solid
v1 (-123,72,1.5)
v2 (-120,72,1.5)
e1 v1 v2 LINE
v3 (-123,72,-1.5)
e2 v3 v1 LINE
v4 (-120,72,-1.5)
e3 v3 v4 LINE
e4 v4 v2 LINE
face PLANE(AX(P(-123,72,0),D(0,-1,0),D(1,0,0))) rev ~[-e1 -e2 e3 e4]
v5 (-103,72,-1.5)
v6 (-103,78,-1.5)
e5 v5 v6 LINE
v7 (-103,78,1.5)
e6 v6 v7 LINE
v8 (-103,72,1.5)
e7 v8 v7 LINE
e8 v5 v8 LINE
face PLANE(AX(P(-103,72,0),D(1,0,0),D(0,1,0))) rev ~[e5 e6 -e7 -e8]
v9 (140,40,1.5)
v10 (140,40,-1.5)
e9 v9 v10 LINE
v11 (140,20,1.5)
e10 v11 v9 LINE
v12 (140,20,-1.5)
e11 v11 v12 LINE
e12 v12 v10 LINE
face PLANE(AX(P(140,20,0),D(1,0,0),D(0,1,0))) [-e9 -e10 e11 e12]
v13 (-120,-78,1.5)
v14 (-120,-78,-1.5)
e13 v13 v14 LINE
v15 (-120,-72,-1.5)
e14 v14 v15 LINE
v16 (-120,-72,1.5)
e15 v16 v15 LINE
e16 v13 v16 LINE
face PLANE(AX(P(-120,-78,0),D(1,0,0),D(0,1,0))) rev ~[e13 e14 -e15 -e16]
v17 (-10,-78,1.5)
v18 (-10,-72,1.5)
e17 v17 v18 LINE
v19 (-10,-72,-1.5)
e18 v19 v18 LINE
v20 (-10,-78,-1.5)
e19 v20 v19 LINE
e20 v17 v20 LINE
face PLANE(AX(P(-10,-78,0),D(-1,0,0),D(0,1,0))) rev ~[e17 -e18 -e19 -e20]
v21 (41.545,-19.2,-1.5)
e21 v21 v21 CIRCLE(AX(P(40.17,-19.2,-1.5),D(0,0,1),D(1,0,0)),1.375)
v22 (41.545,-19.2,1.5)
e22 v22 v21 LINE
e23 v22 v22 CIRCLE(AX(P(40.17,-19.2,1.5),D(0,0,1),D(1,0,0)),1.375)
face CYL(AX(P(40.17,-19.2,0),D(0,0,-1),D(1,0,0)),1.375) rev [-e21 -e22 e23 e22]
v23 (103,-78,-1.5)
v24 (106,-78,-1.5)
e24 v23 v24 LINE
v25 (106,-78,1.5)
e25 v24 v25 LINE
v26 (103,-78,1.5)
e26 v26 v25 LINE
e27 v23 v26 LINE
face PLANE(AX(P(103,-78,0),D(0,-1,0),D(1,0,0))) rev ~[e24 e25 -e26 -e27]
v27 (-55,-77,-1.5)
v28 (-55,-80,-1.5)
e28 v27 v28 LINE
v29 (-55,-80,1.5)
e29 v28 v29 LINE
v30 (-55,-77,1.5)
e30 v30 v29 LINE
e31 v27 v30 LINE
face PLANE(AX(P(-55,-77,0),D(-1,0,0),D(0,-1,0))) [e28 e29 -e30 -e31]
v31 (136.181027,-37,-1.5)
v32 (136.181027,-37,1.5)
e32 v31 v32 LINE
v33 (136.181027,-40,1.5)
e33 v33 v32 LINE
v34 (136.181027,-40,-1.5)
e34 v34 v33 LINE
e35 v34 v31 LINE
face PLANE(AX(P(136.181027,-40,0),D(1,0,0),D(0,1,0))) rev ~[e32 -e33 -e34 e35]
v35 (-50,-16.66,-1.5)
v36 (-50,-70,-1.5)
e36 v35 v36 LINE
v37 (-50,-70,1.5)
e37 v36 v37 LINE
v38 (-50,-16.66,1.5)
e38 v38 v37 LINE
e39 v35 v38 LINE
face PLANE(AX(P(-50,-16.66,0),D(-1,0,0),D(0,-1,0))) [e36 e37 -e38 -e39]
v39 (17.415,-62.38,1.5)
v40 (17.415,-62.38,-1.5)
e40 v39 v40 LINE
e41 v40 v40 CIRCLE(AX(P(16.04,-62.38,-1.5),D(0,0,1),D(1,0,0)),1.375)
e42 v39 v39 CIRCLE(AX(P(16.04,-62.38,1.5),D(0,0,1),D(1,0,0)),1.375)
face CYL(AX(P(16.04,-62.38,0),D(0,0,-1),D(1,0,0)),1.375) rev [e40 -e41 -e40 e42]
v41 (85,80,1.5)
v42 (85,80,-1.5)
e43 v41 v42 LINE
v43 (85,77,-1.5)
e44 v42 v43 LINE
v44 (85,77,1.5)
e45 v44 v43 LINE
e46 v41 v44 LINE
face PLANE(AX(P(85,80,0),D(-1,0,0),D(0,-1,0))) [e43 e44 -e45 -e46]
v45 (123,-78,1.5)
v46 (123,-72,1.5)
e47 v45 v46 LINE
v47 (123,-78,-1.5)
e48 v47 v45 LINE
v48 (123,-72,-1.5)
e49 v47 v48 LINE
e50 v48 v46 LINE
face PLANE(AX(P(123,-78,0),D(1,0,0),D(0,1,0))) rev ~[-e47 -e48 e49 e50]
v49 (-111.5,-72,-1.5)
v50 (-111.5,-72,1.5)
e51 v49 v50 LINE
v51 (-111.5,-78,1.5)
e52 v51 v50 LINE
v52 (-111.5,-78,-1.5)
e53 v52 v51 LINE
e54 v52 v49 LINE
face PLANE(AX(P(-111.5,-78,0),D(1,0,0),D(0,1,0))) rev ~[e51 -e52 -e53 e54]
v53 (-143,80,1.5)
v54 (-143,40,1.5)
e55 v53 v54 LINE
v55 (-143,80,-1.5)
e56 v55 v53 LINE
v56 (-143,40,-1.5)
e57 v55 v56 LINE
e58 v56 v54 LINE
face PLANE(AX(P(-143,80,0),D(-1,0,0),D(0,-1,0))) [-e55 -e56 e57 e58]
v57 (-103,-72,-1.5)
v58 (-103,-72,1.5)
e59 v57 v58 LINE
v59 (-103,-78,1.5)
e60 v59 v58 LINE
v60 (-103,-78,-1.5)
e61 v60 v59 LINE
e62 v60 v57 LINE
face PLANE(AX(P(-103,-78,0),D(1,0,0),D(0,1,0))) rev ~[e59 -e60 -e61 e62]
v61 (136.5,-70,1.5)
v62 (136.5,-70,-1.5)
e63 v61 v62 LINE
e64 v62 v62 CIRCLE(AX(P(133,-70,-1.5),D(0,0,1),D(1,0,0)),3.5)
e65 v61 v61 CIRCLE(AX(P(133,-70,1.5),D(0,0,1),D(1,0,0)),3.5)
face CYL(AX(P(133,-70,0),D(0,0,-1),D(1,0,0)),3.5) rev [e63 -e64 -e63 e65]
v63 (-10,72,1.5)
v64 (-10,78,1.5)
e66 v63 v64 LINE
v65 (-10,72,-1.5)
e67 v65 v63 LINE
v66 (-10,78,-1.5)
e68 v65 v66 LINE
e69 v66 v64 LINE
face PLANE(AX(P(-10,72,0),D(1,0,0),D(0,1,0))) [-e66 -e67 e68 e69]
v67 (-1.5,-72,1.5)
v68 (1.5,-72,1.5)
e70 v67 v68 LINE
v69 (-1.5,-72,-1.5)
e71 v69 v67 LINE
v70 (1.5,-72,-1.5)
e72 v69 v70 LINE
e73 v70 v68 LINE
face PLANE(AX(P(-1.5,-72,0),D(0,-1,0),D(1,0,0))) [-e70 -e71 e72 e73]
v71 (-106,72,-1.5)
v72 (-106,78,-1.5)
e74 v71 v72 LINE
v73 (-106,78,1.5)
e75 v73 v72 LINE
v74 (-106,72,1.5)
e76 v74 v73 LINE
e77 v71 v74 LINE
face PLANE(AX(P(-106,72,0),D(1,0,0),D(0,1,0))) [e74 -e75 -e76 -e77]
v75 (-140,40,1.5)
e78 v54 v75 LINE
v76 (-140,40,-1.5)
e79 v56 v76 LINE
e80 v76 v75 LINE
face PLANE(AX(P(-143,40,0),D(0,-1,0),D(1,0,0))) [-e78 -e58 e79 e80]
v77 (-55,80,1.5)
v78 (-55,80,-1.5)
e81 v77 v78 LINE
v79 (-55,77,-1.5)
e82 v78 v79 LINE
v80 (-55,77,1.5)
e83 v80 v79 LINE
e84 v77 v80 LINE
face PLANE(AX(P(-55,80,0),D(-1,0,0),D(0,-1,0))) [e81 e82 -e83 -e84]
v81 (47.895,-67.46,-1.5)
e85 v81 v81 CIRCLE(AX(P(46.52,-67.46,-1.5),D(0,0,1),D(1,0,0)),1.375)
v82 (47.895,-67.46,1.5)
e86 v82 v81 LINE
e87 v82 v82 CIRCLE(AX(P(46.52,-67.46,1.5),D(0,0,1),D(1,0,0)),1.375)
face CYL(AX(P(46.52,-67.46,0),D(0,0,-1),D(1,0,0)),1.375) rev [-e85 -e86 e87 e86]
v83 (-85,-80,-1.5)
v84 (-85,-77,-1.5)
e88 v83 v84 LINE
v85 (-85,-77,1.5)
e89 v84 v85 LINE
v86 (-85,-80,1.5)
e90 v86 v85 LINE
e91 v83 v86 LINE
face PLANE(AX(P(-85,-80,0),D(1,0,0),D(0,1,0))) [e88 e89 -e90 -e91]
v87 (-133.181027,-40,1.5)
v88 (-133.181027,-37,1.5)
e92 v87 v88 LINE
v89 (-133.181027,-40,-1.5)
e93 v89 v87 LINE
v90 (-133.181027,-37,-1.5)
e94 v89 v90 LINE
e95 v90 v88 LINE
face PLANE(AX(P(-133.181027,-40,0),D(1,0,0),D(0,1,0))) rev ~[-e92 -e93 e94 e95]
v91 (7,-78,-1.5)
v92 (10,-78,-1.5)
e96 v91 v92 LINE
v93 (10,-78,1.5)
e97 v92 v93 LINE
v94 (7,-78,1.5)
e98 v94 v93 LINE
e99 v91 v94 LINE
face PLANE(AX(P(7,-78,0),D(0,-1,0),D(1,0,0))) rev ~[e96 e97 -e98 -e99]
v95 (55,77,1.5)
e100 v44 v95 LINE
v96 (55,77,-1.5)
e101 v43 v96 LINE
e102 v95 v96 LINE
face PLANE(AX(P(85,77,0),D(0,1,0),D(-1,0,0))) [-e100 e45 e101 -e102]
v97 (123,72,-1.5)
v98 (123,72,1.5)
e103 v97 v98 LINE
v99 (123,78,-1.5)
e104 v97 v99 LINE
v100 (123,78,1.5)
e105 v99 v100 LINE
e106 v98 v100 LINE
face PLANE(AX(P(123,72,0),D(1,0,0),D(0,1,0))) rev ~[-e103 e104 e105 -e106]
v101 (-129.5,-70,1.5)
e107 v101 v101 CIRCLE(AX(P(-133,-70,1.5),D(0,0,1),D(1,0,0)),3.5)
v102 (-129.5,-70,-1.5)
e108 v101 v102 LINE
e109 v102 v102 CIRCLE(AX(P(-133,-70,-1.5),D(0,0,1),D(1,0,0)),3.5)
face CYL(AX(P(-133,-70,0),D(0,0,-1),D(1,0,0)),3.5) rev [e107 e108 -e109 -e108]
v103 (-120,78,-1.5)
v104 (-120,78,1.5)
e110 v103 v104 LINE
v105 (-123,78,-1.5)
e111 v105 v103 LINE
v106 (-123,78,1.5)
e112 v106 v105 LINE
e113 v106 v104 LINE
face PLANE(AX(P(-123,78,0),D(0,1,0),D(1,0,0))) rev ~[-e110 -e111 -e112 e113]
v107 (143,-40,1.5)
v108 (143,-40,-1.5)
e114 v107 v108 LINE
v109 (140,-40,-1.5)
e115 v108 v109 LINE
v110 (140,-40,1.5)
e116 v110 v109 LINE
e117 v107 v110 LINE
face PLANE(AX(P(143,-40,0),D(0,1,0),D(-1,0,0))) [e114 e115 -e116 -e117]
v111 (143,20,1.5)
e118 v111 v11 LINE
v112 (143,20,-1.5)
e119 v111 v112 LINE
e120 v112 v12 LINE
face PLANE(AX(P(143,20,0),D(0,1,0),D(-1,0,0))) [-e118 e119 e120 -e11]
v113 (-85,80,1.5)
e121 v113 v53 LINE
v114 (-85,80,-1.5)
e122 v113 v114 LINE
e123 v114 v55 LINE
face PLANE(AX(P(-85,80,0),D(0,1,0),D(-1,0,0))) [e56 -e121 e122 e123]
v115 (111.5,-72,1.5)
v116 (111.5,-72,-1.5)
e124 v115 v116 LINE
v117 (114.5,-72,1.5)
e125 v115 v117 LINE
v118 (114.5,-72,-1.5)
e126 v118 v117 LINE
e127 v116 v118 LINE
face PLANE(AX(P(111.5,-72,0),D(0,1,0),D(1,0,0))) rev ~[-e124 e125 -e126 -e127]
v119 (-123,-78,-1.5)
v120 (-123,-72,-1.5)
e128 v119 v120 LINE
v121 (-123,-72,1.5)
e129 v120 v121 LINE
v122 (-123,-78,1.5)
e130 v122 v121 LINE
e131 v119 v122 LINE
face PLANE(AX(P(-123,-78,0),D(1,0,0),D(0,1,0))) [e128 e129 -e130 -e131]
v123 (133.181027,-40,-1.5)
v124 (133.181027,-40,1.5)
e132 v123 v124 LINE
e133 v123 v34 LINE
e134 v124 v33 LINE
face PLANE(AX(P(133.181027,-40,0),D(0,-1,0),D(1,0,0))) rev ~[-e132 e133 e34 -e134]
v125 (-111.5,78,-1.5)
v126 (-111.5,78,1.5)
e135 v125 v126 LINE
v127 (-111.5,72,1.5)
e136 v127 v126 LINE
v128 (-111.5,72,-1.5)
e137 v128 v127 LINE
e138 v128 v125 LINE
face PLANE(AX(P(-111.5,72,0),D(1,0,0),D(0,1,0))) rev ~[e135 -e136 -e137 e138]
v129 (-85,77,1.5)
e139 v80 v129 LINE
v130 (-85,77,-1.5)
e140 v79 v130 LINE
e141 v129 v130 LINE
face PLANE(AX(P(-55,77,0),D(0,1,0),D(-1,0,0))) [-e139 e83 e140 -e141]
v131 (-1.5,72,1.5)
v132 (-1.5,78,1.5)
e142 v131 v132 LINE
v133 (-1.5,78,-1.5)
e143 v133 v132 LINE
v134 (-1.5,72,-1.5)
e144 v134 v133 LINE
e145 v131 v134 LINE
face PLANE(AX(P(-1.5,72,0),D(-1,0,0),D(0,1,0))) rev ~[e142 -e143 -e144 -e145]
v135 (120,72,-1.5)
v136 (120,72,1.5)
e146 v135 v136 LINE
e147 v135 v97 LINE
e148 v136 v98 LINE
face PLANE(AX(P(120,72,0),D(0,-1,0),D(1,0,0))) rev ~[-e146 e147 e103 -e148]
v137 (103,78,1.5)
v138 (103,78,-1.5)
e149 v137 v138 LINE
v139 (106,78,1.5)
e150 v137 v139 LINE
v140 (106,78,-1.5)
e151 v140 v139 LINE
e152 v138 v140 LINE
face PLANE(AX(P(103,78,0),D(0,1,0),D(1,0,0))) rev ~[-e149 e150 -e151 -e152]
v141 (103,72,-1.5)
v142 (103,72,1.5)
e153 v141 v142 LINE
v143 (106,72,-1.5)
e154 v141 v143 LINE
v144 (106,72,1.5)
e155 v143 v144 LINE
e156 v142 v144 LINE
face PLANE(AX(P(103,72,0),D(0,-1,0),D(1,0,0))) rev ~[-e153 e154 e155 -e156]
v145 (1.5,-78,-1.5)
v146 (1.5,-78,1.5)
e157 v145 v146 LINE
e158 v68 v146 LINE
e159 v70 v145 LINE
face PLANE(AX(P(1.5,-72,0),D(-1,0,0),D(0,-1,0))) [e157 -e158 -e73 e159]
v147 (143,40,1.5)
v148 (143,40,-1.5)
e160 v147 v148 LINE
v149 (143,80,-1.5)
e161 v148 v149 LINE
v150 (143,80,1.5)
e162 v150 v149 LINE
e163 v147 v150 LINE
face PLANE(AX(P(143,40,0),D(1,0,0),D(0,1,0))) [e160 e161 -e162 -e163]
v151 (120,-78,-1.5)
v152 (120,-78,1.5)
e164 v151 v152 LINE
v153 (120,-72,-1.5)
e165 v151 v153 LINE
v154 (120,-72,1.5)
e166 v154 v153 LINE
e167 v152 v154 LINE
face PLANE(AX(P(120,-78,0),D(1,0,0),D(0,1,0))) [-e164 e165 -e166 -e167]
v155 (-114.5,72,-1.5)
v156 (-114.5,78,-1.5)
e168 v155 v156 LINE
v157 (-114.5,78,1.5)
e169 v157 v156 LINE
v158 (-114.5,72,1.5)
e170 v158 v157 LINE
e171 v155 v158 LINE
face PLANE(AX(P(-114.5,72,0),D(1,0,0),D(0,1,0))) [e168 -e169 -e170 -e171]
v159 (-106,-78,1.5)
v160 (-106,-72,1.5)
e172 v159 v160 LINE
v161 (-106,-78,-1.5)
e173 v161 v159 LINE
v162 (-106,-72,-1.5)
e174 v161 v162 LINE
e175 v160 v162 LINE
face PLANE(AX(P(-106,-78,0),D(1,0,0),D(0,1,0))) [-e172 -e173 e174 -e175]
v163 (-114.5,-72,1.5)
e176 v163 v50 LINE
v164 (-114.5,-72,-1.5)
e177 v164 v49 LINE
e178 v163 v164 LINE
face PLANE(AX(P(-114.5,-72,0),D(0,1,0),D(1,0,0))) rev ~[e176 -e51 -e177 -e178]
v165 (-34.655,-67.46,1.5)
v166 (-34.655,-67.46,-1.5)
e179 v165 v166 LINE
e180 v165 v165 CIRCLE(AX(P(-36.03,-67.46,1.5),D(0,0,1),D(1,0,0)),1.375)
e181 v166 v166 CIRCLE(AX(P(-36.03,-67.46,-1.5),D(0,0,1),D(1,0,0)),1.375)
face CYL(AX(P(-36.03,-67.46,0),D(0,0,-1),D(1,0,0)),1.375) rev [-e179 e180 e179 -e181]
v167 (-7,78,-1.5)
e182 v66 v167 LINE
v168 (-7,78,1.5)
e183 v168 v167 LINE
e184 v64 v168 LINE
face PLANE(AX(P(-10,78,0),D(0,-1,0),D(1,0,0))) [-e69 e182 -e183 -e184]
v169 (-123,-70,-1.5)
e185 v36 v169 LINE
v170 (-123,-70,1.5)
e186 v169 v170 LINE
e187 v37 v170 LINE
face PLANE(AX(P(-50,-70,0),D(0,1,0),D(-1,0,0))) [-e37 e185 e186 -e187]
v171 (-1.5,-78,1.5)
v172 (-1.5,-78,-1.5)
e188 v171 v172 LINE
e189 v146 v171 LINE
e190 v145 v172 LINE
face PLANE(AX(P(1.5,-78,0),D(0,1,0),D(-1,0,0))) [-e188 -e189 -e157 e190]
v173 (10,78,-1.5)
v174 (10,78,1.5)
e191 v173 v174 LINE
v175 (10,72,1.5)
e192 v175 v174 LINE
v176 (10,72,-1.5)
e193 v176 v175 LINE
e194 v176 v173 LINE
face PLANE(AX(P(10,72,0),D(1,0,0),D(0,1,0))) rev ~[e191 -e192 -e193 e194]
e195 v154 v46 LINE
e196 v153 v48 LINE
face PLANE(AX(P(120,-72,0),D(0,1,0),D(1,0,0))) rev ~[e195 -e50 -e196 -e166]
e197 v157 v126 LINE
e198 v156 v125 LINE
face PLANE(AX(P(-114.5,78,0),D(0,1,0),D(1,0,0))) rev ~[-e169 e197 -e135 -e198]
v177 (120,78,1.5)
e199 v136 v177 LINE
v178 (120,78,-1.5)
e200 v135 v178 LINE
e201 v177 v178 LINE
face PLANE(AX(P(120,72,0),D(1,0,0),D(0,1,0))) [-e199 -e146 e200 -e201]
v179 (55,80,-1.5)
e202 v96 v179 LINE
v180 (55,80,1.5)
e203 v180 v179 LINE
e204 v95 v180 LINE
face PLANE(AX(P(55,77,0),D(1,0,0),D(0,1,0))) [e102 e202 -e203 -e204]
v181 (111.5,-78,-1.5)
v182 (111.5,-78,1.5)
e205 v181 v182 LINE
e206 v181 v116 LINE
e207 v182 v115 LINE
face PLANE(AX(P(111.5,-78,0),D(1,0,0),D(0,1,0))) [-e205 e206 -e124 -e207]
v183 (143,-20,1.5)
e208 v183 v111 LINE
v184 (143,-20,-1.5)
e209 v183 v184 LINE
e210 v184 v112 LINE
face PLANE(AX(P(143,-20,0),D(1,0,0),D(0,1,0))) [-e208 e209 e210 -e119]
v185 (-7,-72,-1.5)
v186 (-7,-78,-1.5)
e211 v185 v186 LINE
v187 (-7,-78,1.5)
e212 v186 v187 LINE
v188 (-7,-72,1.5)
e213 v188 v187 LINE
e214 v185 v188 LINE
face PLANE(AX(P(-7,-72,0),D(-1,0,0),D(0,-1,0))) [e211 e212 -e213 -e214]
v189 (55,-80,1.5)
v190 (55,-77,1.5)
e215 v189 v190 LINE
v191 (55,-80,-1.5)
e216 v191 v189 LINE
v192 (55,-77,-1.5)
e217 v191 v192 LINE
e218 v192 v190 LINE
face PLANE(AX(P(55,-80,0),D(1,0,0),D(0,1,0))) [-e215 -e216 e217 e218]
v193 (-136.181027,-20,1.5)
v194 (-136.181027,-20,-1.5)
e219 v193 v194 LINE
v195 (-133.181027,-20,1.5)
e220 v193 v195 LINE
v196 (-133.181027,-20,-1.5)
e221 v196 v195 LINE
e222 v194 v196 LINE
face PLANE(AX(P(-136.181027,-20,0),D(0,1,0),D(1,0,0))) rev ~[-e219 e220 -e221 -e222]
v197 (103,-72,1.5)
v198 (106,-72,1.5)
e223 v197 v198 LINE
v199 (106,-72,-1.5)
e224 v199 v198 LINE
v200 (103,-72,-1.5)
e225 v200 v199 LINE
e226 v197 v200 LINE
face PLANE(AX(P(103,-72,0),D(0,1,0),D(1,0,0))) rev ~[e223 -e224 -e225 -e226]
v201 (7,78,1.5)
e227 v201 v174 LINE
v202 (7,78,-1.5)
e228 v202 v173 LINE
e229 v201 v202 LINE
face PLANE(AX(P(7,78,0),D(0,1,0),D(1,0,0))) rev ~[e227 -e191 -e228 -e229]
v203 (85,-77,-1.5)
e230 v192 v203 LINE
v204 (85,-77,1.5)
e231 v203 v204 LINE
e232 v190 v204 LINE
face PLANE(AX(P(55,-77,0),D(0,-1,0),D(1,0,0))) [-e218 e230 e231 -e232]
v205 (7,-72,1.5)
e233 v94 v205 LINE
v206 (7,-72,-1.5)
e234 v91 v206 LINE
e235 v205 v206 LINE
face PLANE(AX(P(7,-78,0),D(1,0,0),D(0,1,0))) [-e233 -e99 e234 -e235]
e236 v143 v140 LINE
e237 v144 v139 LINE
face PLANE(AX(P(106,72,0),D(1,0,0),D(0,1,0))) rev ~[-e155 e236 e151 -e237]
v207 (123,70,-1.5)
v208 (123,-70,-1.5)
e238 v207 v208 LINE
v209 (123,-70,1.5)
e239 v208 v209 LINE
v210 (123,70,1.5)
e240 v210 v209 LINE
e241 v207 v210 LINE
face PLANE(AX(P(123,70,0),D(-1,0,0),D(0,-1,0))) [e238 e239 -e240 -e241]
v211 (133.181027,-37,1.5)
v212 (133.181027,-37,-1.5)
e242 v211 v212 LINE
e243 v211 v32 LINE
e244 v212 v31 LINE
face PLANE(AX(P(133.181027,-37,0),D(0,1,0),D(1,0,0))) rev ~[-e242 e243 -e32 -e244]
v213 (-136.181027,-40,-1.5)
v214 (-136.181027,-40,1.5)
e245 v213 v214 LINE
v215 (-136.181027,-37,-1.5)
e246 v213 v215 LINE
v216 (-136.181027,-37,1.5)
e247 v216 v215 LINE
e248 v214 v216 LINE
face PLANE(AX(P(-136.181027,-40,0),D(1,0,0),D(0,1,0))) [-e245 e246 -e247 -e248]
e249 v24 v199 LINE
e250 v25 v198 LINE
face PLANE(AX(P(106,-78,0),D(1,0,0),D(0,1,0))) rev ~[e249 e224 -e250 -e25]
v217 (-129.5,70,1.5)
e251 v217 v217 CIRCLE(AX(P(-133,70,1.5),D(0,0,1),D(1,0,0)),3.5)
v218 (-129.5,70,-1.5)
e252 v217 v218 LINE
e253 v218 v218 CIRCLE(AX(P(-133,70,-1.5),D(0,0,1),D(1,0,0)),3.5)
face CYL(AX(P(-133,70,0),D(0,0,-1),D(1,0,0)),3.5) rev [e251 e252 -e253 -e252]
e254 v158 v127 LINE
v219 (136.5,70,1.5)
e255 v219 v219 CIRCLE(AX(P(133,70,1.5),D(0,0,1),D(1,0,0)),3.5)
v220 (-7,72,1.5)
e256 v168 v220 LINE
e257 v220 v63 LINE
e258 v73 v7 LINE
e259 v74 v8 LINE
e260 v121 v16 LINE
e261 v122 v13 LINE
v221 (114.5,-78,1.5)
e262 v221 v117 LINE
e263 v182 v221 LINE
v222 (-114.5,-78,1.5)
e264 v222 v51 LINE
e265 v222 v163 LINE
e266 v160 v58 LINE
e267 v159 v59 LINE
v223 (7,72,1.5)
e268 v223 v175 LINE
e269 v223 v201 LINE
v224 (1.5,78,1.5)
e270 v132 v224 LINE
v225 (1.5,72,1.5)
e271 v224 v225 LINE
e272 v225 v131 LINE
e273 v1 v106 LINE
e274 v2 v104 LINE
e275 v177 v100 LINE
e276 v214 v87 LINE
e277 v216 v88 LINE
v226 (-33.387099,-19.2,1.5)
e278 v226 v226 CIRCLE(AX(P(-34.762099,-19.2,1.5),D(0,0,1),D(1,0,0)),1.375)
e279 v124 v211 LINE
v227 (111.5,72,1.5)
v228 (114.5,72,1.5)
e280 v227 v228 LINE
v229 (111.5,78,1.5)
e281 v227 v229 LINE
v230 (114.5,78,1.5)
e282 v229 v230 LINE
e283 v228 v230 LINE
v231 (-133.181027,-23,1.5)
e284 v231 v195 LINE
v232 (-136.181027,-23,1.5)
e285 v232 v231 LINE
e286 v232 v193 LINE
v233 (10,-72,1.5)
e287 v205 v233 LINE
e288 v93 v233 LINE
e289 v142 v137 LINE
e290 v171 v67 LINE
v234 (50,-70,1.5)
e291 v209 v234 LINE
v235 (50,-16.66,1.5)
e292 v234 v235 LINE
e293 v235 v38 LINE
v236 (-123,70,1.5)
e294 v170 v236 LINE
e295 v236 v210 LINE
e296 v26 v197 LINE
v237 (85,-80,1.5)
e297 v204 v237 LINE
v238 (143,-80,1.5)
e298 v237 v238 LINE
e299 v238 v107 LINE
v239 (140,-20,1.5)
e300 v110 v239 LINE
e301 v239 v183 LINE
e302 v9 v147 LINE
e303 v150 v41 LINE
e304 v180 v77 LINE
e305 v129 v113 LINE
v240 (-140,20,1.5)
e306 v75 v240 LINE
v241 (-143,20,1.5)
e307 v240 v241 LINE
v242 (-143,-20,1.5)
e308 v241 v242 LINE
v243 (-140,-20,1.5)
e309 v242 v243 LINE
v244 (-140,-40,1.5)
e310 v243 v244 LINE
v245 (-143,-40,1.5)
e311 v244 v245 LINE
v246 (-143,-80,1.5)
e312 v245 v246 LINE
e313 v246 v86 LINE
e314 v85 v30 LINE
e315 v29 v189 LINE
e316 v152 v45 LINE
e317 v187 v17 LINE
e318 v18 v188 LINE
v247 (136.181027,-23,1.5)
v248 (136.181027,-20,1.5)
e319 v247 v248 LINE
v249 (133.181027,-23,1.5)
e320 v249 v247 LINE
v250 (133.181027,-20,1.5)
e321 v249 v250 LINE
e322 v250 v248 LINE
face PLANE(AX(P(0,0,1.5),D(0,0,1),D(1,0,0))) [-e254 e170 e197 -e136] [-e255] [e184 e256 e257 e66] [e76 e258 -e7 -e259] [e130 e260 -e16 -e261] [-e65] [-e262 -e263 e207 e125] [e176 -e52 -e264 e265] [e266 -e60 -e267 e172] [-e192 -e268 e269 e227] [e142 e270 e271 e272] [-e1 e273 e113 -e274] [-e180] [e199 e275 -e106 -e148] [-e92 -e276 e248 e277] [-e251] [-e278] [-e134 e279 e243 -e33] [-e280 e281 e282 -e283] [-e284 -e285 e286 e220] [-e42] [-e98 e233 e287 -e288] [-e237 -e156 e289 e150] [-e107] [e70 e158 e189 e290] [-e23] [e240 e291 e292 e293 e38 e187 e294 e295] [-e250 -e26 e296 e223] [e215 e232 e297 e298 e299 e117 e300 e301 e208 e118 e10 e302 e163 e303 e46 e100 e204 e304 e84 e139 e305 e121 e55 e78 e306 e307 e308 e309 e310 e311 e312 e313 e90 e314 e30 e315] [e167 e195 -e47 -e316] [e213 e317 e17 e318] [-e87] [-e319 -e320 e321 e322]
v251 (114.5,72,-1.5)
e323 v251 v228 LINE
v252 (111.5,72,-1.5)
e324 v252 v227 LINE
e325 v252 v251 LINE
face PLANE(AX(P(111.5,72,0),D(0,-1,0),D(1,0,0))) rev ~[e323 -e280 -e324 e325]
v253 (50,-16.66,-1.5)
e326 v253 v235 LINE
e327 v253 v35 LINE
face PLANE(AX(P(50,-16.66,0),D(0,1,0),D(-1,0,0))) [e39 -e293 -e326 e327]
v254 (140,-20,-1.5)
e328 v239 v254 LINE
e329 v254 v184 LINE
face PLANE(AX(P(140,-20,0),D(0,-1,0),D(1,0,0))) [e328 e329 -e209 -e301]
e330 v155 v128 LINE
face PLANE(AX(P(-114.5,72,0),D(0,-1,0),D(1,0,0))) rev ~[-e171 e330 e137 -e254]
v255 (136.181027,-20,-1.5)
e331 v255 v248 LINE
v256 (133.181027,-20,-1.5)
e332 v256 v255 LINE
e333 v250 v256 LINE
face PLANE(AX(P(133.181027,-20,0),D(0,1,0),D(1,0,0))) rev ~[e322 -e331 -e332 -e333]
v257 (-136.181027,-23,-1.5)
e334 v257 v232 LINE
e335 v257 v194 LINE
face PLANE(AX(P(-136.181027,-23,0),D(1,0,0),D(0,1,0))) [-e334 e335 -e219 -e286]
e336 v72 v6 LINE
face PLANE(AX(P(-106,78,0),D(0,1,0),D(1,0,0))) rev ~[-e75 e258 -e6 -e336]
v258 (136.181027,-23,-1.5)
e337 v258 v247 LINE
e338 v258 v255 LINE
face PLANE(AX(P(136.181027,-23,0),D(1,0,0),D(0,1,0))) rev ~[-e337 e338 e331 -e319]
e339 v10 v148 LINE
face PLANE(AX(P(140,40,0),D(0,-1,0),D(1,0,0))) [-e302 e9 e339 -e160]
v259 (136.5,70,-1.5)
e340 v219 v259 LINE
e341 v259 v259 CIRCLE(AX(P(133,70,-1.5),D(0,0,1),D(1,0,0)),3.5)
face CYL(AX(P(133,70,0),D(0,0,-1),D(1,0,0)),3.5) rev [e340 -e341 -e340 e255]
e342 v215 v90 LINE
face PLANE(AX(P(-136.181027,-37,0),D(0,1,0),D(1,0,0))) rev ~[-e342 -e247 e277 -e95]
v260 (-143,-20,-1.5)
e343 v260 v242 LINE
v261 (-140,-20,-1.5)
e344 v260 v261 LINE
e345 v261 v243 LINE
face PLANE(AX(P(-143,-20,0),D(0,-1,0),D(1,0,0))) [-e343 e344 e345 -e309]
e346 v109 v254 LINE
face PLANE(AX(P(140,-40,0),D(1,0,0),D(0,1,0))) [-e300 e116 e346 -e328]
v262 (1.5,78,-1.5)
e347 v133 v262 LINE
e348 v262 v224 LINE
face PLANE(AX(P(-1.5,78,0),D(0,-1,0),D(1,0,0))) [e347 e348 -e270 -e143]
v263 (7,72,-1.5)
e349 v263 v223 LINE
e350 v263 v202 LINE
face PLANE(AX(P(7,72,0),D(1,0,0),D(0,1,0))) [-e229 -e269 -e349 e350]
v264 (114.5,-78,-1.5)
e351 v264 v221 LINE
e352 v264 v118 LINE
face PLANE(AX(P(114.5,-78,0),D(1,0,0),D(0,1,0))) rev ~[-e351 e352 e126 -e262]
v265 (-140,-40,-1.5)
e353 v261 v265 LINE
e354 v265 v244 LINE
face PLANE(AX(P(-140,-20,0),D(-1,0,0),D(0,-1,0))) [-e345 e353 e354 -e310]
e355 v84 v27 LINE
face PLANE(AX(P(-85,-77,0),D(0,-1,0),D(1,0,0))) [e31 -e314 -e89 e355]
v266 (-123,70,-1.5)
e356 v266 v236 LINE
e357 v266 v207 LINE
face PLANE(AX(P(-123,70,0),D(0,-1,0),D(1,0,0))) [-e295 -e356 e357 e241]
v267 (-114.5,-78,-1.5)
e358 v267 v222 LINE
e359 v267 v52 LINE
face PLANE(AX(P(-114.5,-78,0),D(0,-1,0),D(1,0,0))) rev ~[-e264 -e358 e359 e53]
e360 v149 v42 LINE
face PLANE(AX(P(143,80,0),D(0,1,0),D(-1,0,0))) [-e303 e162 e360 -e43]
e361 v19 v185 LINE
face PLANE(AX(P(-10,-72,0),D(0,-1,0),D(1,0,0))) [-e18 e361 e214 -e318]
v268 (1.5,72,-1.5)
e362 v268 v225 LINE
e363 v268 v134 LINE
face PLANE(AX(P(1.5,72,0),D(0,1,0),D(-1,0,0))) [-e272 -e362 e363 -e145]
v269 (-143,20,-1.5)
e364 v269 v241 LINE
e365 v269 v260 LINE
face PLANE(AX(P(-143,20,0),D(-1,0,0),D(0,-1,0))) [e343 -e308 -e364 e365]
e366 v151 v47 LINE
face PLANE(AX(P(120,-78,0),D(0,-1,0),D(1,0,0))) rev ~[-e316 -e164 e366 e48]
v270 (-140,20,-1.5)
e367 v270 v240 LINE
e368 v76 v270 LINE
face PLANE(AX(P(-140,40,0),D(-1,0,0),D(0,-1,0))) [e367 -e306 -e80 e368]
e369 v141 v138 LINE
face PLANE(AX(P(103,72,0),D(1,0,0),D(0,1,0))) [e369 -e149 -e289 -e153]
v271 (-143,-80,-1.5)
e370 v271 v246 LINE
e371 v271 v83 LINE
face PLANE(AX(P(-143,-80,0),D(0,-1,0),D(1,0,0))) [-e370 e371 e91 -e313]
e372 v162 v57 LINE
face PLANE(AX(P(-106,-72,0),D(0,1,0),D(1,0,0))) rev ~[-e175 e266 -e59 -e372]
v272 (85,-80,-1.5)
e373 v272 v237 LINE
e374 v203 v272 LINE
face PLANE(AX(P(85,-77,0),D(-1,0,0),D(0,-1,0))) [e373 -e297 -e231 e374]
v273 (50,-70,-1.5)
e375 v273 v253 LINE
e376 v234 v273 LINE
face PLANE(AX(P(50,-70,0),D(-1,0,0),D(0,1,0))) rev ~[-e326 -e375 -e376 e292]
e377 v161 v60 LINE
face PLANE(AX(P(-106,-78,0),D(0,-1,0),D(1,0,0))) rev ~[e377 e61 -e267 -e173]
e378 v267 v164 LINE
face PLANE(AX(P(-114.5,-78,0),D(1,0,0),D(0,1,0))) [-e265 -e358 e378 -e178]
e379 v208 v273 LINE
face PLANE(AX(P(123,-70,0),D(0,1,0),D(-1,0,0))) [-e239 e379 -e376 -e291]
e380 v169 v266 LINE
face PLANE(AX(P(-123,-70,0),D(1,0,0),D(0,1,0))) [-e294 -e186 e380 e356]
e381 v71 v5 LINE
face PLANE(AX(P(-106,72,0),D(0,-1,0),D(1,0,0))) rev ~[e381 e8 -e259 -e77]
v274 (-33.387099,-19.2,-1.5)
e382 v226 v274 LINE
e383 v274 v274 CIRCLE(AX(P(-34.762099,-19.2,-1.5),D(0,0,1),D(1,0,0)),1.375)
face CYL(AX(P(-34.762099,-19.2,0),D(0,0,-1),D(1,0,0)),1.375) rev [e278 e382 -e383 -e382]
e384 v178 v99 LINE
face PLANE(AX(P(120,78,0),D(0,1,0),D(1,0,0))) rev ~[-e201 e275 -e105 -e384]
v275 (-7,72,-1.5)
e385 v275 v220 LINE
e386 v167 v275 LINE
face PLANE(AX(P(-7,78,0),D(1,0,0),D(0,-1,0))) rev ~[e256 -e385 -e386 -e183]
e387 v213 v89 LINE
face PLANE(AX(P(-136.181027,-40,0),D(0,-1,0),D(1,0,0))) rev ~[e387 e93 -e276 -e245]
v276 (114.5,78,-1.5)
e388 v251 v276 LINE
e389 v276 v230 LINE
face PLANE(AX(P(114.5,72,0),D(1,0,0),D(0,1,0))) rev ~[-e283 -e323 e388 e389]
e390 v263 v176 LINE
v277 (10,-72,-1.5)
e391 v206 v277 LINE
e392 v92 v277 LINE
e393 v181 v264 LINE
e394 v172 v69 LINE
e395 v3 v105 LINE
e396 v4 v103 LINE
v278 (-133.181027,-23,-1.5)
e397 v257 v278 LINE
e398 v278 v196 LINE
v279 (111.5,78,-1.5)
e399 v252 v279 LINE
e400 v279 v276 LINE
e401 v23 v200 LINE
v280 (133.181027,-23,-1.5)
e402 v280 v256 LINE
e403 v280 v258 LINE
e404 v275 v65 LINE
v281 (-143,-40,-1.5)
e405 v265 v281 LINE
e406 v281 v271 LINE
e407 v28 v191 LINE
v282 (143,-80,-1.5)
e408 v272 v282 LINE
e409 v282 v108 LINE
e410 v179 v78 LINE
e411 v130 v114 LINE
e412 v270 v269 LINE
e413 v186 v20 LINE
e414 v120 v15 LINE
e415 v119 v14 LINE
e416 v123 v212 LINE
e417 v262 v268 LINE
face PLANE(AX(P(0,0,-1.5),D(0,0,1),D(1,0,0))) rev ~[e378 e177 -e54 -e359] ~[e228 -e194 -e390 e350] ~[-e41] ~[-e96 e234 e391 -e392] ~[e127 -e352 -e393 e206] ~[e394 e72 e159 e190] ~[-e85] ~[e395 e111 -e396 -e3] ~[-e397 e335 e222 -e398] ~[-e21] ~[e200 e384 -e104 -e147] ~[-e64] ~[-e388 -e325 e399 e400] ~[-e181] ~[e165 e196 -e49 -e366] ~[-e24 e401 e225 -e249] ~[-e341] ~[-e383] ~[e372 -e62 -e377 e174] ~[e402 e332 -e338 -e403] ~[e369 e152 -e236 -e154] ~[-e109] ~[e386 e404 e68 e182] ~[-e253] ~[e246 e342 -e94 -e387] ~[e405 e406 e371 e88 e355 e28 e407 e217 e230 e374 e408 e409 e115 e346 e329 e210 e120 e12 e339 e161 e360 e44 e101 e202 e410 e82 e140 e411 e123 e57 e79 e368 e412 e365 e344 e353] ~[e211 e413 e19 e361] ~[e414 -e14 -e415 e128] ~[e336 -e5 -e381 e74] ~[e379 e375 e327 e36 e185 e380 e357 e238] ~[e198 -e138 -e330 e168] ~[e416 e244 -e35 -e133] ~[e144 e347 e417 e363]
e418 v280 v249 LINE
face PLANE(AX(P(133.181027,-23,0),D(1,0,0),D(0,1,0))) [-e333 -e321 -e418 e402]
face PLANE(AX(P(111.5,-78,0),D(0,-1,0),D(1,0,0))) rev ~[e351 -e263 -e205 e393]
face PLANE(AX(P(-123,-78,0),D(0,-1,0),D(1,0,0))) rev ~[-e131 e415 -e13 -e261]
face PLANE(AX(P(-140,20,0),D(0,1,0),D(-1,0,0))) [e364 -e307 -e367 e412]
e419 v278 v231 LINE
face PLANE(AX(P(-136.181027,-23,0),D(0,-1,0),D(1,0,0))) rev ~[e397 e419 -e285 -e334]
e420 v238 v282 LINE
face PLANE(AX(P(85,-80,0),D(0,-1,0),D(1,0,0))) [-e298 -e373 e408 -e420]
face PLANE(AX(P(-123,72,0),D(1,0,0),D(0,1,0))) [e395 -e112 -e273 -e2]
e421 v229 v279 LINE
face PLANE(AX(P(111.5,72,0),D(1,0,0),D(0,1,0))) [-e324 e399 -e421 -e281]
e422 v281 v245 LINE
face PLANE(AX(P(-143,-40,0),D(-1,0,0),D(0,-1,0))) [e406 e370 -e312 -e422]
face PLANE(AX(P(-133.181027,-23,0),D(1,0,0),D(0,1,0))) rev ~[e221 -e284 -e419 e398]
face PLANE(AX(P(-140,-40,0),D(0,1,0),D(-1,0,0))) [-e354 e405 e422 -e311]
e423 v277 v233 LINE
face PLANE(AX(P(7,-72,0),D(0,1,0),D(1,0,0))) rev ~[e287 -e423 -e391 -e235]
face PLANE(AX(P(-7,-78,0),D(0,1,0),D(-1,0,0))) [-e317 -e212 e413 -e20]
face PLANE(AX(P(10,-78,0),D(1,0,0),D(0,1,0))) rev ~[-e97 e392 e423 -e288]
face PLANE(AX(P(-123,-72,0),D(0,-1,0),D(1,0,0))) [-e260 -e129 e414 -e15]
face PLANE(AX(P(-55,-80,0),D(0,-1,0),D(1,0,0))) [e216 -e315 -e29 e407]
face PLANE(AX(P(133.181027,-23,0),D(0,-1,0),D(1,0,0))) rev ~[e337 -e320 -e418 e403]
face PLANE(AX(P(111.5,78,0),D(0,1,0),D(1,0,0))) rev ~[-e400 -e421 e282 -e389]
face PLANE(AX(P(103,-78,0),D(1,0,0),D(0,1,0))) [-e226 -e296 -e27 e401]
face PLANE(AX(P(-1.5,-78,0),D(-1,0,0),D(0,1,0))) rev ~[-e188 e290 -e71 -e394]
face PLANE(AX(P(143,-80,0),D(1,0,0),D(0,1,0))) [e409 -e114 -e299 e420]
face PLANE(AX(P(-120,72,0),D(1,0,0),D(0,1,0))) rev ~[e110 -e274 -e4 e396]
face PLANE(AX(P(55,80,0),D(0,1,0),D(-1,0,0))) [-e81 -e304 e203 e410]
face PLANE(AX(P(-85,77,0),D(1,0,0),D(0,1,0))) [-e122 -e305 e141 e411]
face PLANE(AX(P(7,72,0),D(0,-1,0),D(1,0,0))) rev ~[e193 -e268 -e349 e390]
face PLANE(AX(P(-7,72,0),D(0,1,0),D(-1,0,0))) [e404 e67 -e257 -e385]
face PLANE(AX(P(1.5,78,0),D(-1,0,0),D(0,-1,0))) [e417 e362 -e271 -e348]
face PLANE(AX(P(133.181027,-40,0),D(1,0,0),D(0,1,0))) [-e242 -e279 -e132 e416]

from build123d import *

# Parameters (mm, degrees)
F0_W     = 3
F0_H     = 6
F0_R     = 3.5
F0_R_2   = 1.375
F0_H_2   = 3
F1_DEPTH = 1.5


with BuildPart() as f1:
    # F0 (on Top) → F1 (new body, symmetric)
    with BuildSketch(Plane.XY):
        Polygon((-85, 80), (-143, 80), (-143, 40), (-140, 40), (-140, 20), (-143, 20), (-143, -20), (-140, -20), (-140, -40), (-143, -40), (-143, -80), (-85, -80), (-85, -77), (-55, -77), (-55, -80), (55, -80), (55, -77), (85, -77), (85, -80), (143, -80), (143, -40), (140, -40), (140, -20), (143, -20), (143, 20), (140, 20), (140, 40), (143, 40), (143, 80), (85, 80), (85, 77), (55, 77), (55, 80), (-55, 80), (-55, 77), (-85, 77), align=None)
        with Locations((-121.5, -75)):
            Rectangle(F0_W, F0_H, mode=Mode.SUBTRACT)
        with Locations((-113, -75)):
            Rectangle(F0_W, F0_H, mode=Mode.SUBTRACT)
        with Locations((-133, -70)):
            Circle(F0_R, mode=Mode.SUBTRACT)
        with Locations((-104.5, -75)):
            Rectangle(F0_W, F0_H, mode=Mode.SUBTRACT)
        with Locations((-36.03, -67.46)):
            Circle(F0_R_2, mode=Mode.SUBTRACT)
        Polygon((-7, -75), (-7, -78), (-10, -78), (-10, -75), (-10, -72), (-7, -72), align=None, mode=Mode.SUBTRACT)
        with Locations((-134.681027, -38.5)):
            Rectangle(F0_W, F0_H_2, mode=Mode.SUBTRACT)
        with Locations((-134.681027, -21.5)):
            Rectangle(F0_W, F0_H_2, mode=Mode.SUBTRACT)
        with Locations((-34.762099, -19.2)):
            Circle(F0_R_2, mode=Mode.SUBTRACT)
        Polygon((1.5, -78), (0, -78), (-1.5, -78), (-1.5, -75), (-1.5, -72), (1.5, -72), (1.5, -75), align=None, mode=Mode.SUBTRACT)
        with Locations((8.5, -75)):
            Rectangle(F0_W, F0_H, mode=Mode.SUBTRACT)
        with Locations((16.04, -62.38)):
            Circle(F0_R_2, mode=Mode.SUBTRACT)
        with Locations((46.52, -67.46)):
            Circle(F0_R_2, mode=Mode.SUBTRACT)
        with Locations((104.5, -75)):
            Rectangle(F0_W, F0_H, mode=Mode.SUBTRACT)
        with Locations((113, -75)):
            Rectangle(F0_W, F0_H, mode=Mode.SUBTRACT)
        with Locations((121.5, -75)):
            Rectangle(F0_W, F0_H, mode=Mode.SUBTRACT)
        with Locations((133, -70)):
            Circle(F0_R, mode=Mode.SUBTRACT)
        with Locations((40.17, -19.2)):
            Circle(F0_R_2, mode=Mode.SUBTRACT)
        with Locations((134.681027, -38.5)):
            Rectangle(F0_W, F0_H_2, mode=Mode.SUBTRACT)
        with Locations((134.681027, -21.5)):
            Rectangle(F0_W, F0_H_2, mode=Mode.SUBTRACT)
        with Locations((-133, 70)):
            Circle(F0_R, mode=Mode.SUBTRACT)
        with Locations((-121.5, 75)):
            Rectangle(F0_W, F0_H, mode=Mode.SUBTRACT)
        with Locations((-113, 75)):
            Rectangle(F0_W, F0_H, mode=Mode.SUBTRACT)
        with Locations((-104.5, 75)):
            Rectangle(F0_W, F0_H, mode=Mode.SUBTRACT)
        Polygon((-10, 78), (-7, 78), (-7, 75), (-7, 72), (-10, 72), (-10, 75), align=None, mode=Mode.SUBTRACT)
        Polygon((-123, 70), (123, 70), (123, -70), (50, -70), (50, -16.66), (-43, -16.66), (-50, -16.66), (-50, -70), (-123, -70), align=None, mode=Mode.SUBTRACT)
        Polygon((1.5, 75), (1.5, 72), (-1.5, 72), (-1.5, 75), (-1.5, 78), (0, 78), (1.5, 78), align=None, mode=Mode.SUBTRACT)
        with Locations((8.5, 75)):
            Rectangle(F0_W, F0_H, mode=Mode.SUBTRACT)
        with Locations((104.5, 75)):
            Rectangle(F0_W, F0_H, mode=Mode.SUBTRACT)
        with Locations((113, 75)):
            Rectangle(F0_W, F0_H, mode=Mode.SUBTRACT)
        with Locations((121.5, 75)):
            Rectangle(F0_W, F0_H, mode=Mode.SUBTRACT)
        with Locations((133, 70)):
            Circle(F0_R, mode=Mode.SUBTRACT)
    extrude(amount=F1_DEPTH, both=True)


solid = f1.part
